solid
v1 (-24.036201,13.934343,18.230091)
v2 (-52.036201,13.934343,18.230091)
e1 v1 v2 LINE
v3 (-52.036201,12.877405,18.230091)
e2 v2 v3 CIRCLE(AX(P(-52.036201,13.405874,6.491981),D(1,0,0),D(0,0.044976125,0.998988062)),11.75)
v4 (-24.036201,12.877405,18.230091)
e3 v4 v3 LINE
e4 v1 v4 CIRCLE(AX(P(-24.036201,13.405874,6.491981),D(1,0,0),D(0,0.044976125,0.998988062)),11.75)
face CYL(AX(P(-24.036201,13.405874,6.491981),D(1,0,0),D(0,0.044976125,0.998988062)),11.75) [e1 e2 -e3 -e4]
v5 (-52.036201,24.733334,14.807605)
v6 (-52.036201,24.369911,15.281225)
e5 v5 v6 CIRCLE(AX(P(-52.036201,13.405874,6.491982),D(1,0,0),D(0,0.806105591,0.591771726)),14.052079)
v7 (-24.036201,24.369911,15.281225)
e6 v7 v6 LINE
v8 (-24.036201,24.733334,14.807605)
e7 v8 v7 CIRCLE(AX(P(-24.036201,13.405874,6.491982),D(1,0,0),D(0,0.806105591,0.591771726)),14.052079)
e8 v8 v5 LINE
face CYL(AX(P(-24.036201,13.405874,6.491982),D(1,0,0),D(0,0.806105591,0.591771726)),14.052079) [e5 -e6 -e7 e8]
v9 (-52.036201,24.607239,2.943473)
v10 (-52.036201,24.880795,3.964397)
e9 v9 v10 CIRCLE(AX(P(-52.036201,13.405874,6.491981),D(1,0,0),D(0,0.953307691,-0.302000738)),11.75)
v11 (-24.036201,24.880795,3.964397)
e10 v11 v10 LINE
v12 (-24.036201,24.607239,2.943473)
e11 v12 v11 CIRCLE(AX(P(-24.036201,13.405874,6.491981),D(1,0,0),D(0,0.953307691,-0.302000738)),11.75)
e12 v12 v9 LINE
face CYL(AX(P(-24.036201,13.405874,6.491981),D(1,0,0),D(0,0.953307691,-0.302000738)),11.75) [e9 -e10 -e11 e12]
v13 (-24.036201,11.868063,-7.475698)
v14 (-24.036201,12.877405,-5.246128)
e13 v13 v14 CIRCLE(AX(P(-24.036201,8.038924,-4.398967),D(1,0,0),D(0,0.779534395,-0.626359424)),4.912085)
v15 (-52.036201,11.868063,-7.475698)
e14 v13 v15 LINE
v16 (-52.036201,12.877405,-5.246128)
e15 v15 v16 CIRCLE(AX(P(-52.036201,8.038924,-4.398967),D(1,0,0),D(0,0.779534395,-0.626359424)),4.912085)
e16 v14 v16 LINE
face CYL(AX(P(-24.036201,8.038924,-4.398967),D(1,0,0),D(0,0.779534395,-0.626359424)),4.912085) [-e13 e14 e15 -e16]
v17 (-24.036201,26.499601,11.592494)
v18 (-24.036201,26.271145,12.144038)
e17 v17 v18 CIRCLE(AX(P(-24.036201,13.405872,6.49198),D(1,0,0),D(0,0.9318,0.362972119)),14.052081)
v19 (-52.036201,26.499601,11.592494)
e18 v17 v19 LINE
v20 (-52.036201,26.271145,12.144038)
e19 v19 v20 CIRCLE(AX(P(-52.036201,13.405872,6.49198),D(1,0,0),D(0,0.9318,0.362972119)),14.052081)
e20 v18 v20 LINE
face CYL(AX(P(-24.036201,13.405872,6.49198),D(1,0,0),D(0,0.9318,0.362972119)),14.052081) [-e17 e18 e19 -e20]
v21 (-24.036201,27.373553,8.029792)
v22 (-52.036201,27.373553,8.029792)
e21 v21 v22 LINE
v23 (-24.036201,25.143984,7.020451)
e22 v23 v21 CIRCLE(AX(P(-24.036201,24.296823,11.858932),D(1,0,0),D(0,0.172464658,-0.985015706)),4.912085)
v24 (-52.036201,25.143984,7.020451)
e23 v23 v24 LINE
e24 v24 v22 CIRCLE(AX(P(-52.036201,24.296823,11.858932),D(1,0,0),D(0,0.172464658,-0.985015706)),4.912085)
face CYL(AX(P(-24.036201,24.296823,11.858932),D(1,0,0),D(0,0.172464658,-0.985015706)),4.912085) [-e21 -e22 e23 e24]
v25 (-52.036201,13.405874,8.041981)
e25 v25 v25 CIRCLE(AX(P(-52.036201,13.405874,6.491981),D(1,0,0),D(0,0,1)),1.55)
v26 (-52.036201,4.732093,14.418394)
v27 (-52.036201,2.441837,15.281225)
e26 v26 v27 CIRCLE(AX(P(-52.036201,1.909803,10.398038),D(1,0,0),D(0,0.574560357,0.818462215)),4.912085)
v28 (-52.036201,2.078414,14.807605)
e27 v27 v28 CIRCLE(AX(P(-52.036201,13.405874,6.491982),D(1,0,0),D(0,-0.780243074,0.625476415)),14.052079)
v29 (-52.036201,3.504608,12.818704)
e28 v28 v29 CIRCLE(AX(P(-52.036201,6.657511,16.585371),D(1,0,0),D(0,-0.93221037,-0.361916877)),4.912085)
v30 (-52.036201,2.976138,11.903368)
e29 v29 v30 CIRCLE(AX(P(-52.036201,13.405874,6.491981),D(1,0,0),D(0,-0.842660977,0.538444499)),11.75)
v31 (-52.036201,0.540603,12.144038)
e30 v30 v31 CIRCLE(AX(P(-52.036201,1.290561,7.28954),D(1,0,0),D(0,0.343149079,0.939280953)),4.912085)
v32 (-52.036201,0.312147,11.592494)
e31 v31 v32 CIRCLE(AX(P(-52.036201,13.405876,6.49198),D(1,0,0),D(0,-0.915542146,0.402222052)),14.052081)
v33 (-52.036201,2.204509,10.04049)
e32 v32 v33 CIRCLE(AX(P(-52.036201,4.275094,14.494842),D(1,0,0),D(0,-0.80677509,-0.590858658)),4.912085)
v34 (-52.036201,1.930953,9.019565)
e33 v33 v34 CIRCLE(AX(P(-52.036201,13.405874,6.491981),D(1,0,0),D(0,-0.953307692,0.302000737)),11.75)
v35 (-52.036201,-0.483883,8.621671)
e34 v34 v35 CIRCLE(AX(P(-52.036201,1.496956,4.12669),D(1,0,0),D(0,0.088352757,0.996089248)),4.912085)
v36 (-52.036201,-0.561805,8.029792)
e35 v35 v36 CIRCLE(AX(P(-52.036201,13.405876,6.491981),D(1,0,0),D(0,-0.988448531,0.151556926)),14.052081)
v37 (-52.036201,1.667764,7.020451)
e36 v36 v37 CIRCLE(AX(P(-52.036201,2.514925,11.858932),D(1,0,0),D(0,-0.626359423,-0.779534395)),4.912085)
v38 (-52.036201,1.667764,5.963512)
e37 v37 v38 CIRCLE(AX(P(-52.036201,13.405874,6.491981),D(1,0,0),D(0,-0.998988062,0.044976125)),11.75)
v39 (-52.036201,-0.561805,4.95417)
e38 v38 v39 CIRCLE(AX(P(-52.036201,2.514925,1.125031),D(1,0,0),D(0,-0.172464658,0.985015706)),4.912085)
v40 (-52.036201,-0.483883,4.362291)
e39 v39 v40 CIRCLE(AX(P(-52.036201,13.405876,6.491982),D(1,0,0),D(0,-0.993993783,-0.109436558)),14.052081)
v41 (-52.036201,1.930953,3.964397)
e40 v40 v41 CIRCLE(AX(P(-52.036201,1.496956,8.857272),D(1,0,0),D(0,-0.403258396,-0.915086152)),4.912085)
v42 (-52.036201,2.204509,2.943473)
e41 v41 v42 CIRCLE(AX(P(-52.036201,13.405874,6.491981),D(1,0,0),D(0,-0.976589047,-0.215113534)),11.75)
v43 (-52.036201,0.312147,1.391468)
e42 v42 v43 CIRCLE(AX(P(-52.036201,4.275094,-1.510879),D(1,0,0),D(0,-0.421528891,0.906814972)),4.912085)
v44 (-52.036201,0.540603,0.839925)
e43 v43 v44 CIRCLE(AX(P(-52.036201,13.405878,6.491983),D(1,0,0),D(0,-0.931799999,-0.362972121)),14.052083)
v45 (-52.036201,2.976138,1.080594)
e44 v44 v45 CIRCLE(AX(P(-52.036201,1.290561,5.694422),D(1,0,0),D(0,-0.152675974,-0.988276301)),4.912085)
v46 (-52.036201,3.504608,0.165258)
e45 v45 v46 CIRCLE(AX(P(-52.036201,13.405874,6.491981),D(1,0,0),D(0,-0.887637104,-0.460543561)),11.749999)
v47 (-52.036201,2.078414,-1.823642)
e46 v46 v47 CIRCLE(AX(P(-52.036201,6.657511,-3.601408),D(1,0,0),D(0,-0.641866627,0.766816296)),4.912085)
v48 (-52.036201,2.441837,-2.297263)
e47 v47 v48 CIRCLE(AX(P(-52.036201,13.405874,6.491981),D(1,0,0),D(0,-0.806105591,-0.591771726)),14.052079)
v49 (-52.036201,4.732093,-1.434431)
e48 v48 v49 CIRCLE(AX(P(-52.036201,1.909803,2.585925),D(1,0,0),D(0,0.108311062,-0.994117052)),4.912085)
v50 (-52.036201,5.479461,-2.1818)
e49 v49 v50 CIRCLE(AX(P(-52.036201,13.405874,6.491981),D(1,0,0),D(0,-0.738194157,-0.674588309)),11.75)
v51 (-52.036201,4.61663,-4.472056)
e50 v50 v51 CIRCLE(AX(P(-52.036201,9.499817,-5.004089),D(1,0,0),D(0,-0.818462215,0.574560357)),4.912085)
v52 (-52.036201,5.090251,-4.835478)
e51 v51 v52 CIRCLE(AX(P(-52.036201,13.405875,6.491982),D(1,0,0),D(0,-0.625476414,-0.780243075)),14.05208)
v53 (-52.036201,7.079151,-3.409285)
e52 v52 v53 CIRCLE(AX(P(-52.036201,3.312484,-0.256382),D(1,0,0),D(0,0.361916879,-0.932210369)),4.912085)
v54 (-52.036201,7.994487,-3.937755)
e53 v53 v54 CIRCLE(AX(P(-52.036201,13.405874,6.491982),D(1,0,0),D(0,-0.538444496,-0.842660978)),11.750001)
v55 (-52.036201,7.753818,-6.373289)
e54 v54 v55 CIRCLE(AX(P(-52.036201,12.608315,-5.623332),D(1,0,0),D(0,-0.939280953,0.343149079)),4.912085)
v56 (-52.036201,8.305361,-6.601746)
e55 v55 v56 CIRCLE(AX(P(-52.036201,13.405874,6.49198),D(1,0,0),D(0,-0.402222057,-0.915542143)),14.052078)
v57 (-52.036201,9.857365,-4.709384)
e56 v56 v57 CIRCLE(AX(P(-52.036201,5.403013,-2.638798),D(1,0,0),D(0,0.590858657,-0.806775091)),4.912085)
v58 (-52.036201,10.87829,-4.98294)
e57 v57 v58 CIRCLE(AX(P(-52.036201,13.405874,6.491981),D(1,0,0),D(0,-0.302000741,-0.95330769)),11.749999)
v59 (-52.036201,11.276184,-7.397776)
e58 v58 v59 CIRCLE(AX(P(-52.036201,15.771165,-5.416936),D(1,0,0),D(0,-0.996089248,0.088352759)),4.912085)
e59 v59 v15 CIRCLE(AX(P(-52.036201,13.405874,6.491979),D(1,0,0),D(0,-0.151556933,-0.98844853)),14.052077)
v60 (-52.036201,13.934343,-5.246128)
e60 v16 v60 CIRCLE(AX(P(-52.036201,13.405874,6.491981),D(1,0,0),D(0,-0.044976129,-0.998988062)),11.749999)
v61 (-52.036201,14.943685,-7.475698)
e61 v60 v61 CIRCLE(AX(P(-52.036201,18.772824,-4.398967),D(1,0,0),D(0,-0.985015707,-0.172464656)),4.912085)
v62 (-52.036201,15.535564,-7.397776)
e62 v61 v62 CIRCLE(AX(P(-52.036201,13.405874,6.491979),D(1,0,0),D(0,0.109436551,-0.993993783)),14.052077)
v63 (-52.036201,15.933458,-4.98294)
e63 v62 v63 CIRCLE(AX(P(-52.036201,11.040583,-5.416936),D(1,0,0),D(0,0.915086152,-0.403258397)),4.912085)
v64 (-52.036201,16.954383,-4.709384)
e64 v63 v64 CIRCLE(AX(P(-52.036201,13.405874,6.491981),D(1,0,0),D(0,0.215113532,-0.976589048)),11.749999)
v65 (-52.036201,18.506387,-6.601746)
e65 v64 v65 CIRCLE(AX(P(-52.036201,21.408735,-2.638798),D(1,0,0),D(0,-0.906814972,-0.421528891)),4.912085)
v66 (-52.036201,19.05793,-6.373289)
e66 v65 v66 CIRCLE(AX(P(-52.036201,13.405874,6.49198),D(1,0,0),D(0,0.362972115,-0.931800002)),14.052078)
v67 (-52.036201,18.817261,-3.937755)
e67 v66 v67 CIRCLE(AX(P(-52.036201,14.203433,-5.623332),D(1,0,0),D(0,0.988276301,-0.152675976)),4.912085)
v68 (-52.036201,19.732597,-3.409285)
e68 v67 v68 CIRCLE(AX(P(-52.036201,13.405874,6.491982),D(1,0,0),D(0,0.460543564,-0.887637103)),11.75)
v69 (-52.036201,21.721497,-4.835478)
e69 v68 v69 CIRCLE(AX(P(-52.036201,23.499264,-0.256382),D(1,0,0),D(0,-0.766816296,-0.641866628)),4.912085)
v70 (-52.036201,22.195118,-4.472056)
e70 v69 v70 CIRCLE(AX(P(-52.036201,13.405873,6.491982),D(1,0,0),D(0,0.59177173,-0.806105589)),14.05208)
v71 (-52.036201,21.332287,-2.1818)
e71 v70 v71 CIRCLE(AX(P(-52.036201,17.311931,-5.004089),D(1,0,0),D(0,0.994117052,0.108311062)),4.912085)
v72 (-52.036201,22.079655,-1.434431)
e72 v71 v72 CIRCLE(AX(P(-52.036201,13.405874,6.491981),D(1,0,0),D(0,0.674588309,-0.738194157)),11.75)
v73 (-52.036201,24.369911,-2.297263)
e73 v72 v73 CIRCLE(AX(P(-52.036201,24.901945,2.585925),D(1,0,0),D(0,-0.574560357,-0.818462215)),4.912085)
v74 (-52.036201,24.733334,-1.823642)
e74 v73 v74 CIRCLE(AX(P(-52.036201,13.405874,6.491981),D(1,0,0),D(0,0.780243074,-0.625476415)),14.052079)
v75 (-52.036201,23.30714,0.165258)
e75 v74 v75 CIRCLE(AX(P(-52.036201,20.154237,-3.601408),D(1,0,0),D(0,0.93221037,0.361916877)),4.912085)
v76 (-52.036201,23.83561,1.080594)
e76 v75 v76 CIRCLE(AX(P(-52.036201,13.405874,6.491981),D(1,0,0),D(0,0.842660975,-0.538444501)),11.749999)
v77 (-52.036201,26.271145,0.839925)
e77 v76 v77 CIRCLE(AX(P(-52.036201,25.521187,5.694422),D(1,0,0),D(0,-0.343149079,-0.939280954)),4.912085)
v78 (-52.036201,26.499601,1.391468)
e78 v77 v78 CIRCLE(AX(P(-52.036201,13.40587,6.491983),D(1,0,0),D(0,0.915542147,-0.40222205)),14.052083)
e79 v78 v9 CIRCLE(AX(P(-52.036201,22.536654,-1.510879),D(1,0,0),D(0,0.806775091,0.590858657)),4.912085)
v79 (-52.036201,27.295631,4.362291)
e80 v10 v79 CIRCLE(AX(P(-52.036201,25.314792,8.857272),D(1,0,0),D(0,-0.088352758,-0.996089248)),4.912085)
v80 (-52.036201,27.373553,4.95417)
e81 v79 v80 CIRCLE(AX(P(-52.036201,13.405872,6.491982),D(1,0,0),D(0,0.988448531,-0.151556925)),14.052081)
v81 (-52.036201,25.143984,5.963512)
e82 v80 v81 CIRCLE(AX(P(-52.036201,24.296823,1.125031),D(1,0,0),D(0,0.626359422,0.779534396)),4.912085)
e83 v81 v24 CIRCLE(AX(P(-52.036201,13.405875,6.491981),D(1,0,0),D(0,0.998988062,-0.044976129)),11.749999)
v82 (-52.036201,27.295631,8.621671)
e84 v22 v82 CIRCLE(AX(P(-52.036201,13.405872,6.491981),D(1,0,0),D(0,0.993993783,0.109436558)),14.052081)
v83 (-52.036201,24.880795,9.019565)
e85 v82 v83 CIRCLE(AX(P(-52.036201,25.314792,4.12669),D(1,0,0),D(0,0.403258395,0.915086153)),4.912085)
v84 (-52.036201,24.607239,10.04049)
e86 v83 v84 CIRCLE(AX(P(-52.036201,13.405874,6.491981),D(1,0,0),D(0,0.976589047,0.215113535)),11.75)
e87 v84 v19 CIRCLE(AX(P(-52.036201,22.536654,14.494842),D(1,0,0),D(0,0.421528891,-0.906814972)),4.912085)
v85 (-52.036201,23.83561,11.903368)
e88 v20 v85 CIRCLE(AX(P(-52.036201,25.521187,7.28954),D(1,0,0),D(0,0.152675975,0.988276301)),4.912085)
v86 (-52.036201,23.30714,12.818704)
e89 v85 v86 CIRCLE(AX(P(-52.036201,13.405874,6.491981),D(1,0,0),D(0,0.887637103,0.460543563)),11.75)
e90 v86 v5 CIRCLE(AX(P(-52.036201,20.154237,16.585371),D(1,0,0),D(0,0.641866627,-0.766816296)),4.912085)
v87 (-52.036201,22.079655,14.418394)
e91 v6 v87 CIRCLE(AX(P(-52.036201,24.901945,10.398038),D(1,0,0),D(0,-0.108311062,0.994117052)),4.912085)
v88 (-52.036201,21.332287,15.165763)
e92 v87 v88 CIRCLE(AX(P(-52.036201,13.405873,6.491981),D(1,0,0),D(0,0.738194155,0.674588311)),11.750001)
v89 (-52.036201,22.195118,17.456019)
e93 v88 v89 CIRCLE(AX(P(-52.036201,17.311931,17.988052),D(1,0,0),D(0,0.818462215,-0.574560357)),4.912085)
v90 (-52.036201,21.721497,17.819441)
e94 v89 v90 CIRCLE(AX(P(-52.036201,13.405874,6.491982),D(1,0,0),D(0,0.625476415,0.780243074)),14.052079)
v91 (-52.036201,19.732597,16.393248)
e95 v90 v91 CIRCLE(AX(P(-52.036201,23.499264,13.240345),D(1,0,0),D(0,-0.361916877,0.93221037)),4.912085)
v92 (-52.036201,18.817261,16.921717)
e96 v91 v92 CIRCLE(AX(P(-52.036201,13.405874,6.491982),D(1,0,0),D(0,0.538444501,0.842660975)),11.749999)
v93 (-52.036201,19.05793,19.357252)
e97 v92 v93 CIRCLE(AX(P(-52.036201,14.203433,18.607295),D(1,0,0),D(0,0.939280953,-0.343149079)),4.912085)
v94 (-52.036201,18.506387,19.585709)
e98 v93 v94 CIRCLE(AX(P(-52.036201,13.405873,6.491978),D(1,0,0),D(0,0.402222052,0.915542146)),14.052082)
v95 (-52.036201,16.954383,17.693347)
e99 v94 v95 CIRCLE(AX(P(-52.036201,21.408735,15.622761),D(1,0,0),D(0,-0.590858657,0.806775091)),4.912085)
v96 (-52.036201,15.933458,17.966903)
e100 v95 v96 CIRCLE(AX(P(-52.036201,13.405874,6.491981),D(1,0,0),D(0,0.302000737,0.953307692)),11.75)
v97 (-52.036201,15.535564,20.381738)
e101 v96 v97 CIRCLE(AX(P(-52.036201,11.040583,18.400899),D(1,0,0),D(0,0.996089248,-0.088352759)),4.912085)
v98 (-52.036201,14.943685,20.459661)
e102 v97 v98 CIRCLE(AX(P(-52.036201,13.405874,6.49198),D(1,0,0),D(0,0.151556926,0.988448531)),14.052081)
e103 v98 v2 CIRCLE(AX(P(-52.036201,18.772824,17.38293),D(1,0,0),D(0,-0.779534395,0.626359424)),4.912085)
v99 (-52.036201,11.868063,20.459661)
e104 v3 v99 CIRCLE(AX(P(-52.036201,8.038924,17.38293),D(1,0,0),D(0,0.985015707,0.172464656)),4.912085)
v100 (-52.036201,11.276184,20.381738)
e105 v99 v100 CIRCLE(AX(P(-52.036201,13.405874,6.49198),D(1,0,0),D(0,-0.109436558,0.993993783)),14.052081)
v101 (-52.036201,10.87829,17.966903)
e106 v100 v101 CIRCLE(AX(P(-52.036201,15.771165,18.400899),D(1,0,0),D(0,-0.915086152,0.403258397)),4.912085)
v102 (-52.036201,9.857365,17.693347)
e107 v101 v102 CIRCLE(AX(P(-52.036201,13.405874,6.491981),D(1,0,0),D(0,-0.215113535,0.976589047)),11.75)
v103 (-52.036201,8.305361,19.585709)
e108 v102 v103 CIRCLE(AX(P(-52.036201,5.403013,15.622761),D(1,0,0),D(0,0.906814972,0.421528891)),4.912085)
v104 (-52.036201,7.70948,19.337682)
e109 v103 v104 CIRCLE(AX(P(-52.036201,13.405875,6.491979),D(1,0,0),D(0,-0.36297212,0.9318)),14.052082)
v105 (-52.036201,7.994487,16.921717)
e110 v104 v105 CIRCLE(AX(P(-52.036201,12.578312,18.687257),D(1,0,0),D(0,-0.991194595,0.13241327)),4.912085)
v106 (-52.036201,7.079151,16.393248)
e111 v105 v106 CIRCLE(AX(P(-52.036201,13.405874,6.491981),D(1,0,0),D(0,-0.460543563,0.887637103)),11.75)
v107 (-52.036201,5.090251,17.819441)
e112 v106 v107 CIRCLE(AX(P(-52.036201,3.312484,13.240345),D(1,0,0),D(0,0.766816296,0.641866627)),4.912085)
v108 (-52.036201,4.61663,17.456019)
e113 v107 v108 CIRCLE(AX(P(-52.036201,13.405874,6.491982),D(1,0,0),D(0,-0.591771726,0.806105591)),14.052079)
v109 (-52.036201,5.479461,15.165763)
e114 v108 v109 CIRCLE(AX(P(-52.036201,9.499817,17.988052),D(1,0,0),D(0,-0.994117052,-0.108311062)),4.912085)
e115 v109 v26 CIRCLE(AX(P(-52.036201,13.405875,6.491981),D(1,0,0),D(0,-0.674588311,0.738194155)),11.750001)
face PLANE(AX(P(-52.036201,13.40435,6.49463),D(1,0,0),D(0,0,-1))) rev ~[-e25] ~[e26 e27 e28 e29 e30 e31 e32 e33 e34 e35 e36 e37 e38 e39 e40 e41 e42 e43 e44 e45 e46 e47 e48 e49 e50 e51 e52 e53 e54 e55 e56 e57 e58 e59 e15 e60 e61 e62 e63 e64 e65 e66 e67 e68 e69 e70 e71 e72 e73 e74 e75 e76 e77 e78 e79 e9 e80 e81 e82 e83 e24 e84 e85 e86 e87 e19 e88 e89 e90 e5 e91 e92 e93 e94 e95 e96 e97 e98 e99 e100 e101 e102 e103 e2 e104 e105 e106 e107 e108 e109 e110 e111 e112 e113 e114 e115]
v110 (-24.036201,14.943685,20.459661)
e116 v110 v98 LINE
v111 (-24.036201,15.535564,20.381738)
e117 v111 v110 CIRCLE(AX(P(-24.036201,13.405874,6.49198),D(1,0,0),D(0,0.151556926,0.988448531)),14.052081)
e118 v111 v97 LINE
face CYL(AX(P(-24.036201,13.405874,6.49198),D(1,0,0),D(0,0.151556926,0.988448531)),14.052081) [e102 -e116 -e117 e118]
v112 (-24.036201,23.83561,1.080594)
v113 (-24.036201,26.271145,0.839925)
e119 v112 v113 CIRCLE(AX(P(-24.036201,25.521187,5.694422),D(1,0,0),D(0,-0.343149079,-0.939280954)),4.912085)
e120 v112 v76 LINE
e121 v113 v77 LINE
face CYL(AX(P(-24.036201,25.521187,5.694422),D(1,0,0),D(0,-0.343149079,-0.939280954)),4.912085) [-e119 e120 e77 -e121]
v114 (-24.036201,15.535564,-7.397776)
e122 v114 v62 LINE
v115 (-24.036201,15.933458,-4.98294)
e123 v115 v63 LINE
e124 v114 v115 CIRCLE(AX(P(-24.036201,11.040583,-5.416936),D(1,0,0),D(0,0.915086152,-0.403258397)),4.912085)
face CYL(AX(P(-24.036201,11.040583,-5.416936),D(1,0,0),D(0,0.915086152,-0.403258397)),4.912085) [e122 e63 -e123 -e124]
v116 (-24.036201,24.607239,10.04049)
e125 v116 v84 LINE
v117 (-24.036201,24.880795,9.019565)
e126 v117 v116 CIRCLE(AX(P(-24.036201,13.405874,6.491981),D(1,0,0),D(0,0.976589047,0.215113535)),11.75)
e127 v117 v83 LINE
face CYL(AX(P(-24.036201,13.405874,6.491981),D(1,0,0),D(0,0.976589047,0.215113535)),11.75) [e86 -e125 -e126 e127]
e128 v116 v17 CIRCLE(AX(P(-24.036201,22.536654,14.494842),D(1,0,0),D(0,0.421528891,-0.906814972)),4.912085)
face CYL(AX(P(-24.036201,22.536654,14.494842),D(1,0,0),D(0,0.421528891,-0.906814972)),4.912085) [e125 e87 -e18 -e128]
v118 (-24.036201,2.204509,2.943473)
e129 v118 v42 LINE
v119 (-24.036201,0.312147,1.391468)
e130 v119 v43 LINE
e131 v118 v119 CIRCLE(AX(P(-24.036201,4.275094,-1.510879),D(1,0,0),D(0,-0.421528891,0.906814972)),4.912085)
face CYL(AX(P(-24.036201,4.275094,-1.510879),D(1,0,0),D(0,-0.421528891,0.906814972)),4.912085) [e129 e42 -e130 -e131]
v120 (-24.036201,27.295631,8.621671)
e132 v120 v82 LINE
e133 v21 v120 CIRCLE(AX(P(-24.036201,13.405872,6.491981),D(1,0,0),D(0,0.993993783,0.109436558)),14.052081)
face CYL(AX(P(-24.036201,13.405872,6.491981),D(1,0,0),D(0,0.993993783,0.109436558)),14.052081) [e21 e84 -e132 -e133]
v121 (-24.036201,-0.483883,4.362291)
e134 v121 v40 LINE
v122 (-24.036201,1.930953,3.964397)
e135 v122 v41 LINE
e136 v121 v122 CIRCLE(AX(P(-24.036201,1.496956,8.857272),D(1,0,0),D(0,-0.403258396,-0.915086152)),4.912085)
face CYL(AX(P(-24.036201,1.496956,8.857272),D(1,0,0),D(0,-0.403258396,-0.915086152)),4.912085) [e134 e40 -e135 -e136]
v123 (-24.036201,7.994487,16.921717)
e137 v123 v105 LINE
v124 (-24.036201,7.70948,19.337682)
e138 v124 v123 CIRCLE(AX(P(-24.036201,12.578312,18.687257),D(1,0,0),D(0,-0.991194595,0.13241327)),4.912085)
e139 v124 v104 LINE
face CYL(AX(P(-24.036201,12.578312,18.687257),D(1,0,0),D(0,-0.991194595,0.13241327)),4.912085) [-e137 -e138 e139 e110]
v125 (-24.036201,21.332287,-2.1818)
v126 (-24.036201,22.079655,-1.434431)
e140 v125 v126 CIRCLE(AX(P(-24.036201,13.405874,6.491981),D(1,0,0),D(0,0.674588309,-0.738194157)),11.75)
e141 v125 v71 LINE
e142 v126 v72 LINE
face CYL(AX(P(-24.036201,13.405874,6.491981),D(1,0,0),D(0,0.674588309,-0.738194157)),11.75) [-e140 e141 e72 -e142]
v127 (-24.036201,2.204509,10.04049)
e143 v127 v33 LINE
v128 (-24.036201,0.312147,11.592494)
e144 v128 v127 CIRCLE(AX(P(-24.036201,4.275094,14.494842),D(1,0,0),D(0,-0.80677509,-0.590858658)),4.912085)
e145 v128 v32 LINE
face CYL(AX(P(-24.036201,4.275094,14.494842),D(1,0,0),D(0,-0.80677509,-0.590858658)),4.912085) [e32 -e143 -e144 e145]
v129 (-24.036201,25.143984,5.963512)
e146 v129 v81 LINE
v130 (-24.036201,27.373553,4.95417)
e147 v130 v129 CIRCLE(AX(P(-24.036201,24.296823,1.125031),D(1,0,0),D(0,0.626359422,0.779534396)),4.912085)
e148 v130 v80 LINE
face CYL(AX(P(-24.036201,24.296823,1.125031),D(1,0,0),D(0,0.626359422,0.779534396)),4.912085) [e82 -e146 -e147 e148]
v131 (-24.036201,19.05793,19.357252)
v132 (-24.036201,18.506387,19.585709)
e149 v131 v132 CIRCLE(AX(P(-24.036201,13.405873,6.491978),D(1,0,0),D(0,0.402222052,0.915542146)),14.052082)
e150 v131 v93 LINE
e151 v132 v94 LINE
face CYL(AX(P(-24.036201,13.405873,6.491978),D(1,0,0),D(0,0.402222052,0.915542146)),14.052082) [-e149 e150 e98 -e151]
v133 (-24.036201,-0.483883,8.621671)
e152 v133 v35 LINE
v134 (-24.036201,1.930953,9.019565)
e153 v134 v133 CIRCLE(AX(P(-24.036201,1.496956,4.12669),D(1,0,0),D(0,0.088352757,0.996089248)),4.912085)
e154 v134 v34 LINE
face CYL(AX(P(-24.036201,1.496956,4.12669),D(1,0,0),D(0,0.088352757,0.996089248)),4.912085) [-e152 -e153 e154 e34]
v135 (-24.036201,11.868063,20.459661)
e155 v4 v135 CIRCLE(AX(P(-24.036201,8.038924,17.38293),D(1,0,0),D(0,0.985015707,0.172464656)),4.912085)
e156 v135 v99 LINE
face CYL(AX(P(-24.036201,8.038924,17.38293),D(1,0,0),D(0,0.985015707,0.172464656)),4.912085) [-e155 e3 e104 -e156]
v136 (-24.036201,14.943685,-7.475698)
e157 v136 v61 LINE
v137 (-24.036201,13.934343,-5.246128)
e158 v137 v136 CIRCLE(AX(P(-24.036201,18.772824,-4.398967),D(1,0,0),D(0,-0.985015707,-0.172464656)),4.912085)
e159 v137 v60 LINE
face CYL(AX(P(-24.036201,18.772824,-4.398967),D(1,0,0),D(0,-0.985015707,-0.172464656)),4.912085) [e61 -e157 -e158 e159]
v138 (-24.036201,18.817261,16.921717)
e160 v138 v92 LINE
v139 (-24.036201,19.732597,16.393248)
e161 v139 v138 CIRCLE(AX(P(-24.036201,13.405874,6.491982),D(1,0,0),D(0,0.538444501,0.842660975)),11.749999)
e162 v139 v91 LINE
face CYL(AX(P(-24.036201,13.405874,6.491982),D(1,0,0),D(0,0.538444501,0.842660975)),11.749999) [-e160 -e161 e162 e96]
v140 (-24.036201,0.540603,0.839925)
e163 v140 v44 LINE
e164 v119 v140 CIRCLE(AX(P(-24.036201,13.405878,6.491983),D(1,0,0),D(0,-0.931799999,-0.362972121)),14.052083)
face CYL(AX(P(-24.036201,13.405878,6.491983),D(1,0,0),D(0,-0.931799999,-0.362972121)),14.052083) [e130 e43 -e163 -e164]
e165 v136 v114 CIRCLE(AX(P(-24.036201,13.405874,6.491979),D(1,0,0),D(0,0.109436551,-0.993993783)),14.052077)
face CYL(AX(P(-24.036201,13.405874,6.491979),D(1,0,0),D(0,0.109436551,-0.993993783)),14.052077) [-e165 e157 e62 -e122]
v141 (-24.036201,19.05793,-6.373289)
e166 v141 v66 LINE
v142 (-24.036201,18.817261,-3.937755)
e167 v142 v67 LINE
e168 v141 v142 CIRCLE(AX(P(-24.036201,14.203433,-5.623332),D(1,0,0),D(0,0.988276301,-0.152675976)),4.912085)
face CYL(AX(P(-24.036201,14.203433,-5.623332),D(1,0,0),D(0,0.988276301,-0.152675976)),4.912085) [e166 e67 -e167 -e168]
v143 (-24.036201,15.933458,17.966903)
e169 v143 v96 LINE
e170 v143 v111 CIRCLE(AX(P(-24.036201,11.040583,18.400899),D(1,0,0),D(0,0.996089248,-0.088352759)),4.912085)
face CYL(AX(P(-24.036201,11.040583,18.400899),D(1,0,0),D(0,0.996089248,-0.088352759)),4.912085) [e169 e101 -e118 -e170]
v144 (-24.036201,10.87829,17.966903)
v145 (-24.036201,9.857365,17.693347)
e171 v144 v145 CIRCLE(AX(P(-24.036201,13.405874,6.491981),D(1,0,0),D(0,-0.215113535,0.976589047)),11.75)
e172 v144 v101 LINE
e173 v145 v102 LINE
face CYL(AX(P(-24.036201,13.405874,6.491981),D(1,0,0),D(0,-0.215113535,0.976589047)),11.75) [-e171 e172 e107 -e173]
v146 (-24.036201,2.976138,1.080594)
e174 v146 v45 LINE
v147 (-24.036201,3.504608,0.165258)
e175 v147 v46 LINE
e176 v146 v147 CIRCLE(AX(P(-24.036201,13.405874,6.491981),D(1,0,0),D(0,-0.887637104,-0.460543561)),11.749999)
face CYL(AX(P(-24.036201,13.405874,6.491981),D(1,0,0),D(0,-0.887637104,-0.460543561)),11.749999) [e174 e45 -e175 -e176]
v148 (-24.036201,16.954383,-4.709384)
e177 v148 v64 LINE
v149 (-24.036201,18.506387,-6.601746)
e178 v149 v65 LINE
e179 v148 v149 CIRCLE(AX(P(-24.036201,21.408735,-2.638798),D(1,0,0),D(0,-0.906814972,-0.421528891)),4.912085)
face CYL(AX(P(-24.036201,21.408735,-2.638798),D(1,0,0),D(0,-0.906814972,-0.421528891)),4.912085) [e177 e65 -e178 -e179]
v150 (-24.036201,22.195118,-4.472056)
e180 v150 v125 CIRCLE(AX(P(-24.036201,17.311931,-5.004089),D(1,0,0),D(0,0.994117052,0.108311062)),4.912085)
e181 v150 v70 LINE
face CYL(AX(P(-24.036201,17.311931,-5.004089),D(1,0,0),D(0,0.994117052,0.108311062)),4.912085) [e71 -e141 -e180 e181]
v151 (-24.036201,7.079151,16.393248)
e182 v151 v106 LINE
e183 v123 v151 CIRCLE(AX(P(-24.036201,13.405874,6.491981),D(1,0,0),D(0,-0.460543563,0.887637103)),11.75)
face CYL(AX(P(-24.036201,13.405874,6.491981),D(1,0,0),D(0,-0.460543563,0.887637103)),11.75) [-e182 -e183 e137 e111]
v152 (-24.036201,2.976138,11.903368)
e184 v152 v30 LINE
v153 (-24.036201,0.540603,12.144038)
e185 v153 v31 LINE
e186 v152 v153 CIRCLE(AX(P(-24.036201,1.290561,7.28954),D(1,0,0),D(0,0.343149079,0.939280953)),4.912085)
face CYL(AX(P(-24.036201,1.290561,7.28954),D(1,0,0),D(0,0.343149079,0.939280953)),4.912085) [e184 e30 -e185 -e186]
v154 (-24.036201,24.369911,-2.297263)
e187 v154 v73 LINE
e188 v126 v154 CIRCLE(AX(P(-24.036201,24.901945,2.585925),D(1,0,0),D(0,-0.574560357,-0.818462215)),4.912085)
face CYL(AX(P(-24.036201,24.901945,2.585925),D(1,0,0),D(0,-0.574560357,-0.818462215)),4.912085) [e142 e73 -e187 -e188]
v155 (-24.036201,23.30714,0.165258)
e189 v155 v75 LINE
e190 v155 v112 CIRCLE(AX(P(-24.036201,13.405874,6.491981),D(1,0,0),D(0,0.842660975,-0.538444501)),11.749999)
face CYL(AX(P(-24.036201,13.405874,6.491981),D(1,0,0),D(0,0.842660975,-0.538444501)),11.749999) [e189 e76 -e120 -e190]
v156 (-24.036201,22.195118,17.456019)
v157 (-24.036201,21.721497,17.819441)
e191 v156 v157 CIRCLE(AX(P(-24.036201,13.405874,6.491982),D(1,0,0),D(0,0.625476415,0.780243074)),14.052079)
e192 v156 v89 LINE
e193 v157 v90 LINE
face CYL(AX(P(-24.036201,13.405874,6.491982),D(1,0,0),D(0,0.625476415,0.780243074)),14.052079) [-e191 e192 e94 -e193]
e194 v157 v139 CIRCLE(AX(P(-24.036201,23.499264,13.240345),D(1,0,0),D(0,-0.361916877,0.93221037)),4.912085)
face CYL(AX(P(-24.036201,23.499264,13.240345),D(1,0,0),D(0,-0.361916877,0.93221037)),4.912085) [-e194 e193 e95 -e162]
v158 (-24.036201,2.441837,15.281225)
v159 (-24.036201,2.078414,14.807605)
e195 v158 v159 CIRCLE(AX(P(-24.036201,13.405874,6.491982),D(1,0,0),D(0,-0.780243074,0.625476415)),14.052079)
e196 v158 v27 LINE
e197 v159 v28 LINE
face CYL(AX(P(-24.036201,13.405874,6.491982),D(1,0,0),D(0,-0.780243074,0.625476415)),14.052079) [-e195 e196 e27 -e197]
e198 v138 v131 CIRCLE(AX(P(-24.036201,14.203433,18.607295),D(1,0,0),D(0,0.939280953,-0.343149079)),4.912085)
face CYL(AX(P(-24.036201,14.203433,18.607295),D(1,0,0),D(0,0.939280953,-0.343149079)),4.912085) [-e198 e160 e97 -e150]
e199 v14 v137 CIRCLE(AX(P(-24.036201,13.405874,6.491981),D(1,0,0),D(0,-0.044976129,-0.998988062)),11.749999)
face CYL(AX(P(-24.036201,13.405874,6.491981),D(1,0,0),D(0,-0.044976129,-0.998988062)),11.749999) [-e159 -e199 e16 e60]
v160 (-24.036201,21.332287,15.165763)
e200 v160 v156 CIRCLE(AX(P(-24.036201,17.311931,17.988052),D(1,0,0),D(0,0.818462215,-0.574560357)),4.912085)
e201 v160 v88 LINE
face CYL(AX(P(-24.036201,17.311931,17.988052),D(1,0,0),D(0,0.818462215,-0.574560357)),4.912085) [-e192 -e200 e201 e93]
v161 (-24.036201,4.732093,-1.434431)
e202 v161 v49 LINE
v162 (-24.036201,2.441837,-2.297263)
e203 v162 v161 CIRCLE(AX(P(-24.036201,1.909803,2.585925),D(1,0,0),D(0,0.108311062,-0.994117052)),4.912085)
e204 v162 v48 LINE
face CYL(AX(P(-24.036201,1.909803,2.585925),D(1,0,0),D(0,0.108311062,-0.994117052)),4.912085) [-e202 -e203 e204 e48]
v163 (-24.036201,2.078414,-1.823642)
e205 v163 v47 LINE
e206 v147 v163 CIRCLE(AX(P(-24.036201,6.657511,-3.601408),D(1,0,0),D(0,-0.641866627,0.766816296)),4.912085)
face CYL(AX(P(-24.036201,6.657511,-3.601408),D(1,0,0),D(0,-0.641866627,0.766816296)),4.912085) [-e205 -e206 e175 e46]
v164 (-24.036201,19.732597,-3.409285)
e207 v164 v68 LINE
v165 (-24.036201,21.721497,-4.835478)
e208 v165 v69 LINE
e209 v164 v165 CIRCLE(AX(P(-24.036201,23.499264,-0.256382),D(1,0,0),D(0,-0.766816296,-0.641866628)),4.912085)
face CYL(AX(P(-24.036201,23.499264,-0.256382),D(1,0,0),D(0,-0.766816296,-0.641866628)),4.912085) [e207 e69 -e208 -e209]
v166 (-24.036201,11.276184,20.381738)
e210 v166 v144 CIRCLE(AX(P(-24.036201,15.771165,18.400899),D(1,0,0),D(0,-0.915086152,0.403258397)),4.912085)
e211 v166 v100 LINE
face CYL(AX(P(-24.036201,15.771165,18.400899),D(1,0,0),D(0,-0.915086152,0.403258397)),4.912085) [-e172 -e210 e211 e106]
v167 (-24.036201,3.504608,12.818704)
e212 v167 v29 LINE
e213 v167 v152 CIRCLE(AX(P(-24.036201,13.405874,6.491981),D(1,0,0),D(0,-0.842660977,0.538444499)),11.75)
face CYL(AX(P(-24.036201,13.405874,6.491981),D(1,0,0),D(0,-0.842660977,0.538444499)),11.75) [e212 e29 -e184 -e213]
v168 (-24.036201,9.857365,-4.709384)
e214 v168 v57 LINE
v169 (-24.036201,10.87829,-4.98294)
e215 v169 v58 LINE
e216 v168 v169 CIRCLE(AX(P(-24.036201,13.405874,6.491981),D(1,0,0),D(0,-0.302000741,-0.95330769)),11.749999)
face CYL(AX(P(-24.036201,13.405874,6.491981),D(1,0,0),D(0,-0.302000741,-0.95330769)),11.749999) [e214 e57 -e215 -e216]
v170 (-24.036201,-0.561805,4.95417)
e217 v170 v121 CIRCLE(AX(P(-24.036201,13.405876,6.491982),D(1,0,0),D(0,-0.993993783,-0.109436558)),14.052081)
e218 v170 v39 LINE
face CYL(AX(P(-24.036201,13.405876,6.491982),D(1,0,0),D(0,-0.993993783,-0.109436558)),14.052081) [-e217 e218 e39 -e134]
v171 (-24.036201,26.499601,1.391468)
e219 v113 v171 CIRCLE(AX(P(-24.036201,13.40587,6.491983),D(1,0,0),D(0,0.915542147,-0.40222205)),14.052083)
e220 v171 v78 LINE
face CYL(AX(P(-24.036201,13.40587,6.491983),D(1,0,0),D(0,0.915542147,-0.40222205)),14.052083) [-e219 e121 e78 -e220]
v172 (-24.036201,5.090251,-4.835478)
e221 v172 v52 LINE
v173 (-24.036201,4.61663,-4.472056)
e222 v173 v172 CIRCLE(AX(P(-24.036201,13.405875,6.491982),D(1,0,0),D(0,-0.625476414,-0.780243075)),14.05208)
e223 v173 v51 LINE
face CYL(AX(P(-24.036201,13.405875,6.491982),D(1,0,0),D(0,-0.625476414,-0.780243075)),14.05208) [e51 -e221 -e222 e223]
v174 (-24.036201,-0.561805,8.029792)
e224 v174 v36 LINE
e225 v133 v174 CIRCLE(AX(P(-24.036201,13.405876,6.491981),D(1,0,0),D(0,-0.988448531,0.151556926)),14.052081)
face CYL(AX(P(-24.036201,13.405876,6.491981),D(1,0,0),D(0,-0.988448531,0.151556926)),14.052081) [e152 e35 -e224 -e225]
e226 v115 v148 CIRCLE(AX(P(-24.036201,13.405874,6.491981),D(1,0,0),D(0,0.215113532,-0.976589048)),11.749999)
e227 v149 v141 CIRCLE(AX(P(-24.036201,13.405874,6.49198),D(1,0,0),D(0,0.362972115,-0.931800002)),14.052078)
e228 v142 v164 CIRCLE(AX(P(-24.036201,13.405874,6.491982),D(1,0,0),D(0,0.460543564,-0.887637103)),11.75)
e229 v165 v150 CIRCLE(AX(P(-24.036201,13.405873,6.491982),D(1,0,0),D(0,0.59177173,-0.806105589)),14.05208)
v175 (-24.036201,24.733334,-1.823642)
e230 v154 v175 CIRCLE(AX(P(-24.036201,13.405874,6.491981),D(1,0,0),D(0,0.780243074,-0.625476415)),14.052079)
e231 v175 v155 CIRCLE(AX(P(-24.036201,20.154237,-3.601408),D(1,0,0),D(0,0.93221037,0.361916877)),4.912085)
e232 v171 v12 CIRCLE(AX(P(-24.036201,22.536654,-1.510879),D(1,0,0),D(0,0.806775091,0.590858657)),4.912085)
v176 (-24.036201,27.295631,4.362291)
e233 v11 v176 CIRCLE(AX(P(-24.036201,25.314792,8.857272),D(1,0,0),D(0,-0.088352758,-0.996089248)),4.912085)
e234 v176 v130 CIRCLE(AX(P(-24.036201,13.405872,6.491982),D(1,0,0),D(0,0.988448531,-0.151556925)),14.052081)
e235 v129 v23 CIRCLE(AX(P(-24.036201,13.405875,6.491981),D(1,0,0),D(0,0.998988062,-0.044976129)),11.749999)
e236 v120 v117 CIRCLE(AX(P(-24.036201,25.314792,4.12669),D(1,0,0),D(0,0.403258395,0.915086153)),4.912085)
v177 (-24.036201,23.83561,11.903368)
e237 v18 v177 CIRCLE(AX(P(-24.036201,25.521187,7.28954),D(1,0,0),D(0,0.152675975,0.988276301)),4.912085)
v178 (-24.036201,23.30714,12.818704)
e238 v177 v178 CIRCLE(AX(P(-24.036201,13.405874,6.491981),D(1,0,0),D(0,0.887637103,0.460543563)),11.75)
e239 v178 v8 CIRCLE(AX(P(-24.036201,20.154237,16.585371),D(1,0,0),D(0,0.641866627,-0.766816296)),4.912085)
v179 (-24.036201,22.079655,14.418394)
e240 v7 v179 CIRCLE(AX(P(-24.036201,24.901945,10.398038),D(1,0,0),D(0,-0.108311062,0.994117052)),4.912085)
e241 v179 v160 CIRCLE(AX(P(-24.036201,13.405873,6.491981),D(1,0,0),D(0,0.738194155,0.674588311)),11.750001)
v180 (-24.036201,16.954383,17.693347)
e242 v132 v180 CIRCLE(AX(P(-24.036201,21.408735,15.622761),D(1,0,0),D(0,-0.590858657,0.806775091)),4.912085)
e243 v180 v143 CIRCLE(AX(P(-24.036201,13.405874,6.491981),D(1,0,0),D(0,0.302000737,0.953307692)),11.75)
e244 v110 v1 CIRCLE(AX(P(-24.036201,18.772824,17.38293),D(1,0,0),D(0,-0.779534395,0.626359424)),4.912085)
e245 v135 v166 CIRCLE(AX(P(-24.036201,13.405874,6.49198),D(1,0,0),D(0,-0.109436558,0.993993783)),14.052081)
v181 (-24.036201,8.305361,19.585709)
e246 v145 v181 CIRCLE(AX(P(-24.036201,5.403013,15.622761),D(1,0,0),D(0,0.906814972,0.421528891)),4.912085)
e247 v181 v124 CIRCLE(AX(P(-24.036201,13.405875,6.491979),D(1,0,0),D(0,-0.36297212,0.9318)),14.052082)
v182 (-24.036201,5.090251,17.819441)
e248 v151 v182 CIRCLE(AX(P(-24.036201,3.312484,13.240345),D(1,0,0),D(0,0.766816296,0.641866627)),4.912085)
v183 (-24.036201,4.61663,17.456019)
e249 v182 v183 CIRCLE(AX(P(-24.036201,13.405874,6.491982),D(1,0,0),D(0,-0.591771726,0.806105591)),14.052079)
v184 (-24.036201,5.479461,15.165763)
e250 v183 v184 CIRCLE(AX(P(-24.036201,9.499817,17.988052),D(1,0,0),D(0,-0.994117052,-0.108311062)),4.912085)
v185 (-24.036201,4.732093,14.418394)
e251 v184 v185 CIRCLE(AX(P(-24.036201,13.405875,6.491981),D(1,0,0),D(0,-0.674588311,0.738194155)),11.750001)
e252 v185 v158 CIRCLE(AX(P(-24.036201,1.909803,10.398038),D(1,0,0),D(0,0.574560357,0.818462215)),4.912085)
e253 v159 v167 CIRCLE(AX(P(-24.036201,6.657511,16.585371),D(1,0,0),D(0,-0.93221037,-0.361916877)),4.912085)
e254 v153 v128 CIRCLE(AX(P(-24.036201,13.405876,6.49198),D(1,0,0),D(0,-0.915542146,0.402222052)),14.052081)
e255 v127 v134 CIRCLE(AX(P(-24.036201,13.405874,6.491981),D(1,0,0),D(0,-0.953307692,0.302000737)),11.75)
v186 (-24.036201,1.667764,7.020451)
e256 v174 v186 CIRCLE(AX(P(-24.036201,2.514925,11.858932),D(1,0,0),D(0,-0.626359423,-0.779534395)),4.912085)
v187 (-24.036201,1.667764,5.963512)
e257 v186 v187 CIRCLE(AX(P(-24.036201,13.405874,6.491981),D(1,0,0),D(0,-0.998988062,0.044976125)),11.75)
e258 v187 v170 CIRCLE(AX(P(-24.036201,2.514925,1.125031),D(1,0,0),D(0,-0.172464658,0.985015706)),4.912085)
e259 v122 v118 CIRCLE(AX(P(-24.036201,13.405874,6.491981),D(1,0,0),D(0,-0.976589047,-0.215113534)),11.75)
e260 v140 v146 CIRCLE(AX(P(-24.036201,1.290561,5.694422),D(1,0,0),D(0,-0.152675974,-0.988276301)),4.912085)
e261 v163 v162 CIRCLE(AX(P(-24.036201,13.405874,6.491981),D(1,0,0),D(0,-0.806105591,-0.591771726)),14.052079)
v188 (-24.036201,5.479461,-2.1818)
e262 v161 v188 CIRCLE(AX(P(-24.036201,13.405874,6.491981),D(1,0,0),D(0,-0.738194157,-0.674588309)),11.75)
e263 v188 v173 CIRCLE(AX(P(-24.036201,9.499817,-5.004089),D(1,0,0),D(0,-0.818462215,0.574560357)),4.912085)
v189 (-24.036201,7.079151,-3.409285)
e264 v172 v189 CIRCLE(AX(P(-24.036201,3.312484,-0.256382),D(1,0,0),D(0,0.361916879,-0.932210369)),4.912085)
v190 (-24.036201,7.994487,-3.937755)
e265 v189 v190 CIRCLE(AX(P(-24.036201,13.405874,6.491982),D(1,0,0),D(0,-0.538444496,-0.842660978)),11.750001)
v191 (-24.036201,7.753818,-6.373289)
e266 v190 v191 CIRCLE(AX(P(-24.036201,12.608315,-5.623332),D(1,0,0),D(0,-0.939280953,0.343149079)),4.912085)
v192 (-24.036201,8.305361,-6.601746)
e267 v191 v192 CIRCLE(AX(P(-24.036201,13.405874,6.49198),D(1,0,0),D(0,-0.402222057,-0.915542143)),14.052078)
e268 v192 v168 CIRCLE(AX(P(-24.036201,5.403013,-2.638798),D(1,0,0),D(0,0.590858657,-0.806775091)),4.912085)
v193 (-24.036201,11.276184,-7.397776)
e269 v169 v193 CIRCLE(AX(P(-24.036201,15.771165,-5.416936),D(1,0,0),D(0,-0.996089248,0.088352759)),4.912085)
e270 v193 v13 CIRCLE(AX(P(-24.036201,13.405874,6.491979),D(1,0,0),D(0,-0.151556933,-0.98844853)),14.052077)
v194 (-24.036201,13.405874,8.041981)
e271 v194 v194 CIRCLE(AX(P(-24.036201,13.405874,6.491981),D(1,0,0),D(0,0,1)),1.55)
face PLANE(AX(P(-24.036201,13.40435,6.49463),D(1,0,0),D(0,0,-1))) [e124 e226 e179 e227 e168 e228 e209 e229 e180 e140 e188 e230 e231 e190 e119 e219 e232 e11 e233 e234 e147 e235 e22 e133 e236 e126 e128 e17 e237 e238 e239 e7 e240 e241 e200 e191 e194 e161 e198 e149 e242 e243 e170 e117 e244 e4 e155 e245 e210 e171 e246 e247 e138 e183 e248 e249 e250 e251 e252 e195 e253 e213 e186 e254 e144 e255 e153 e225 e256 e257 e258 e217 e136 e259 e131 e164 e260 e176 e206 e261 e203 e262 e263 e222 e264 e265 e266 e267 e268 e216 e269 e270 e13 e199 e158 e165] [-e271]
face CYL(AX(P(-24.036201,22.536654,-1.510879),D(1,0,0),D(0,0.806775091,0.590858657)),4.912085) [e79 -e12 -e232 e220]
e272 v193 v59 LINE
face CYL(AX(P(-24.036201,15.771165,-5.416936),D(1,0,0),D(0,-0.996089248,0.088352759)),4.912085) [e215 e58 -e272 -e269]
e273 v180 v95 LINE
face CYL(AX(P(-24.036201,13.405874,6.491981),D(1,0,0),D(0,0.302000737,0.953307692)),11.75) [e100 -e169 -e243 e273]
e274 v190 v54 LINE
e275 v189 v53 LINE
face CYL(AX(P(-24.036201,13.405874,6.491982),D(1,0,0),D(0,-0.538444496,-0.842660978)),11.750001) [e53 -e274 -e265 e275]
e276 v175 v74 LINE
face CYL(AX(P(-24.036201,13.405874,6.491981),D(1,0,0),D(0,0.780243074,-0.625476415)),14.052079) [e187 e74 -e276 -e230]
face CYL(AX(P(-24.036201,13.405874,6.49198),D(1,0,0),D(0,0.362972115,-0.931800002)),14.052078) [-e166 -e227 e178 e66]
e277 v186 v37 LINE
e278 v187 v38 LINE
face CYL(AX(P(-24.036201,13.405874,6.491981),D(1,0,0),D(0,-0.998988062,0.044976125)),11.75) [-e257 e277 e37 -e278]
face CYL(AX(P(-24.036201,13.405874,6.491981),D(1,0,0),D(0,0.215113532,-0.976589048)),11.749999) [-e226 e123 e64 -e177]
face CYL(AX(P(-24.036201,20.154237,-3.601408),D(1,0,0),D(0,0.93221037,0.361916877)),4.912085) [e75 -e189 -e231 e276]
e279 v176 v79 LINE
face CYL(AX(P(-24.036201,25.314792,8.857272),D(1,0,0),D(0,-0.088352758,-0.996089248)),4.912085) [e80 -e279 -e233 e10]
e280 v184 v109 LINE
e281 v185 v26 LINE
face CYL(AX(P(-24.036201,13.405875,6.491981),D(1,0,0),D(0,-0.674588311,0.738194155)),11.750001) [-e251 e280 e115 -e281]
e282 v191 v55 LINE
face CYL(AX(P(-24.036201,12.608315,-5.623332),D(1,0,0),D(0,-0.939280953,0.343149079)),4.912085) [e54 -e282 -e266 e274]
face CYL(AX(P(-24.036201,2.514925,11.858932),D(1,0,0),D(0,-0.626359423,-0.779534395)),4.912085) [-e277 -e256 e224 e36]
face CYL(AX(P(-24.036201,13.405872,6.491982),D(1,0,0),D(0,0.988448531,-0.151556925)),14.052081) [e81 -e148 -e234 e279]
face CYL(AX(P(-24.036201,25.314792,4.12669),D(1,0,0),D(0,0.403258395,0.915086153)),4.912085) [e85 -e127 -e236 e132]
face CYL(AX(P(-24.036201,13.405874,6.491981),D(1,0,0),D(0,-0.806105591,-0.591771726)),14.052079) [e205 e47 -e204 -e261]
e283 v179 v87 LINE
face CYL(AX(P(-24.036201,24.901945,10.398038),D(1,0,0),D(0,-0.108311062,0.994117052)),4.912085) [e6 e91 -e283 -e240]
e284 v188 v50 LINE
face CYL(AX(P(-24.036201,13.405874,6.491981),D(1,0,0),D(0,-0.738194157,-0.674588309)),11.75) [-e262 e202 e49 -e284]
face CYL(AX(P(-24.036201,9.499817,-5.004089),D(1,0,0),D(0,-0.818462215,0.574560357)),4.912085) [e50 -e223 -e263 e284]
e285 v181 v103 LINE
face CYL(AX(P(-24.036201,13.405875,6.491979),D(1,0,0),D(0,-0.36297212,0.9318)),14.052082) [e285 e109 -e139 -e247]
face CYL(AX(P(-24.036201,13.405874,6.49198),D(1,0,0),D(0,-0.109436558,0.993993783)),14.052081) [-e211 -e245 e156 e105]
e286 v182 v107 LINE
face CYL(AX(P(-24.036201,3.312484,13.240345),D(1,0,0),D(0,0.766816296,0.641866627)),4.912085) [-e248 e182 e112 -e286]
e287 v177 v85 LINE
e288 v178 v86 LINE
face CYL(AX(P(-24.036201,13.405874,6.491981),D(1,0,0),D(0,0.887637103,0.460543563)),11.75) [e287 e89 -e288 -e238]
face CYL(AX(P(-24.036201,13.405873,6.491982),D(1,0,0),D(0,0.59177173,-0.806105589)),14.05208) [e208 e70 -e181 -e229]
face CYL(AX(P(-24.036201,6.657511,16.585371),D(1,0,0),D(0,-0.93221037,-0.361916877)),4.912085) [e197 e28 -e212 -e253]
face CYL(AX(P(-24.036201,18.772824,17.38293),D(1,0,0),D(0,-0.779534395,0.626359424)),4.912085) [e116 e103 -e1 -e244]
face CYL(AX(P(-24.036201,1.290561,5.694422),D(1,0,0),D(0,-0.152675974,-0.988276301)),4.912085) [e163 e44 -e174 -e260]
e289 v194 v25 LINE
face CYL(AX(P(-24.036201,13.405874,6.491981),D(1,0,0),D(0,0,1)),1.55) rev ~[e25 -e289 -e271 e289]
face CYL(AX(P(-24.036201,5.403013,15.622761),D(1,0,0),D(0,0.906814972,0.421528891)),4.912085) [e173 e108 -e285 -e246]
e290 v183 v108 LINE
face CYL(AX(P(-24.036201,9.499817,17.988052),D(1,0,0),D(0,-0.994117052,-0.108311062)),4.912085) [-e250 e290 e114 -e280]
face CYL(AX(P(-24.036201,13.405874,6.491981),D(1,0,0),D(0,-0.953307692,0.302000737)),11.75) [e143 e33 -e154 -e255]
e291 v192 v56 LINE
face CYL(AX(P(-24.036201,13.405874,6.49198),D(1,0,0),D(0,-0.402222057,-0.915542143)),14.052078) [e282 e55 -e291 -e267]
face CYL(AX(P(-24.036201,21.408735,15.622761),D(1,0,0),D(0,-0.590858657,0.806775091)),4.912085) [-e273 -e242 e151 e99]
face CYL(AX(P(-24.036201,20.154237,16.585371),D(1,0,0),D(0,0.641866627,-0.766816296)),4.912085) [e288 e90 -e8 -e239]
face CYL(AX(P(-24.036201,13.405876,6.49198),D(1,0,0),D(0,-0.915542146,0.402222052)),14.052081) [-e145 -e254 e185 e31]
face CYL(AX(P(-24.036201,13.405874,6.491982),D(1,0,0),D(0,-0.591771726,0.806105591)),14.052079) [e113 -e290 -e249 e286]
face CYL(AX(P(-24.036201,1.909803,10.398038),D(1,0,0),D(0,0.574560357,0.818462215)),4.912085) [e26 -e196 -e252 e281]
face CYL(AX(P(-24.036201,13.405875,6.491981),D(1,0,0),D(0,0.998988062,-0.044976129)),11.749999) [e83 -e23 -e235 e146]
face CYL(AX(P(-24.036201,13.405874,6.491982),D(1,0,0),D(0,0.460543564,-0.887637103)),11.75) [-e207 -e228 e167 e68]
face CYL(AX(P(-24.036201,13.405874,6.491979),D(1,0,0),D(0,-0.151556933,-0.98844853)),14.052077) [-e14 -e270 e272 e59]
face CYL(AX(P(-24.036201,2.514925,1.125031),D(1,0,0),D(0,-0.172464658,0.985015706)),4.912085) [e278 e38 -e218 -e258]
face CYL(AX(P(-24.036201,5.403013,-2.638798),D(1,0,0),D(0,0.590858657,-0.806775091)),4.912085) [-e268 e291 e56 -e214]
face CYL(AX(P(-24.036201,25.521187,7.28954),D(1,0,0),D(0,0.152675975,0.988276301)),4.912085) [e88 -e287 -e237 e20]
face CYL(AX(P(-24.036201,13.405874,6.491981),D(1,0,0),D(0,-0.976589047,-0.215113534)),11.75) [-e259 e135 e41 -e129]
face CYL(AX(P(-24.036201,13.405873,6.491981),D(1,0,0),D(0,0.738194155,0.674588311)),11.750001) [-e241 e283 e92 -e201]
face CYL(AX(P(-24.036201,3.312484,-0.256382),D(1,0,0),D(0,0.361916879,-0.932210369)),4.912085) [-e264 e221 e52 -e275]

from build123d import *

# Parameters (mm, degrees)
SKETCH1_R           = 1.55
BOSS_EXTRUDE1_DEPTH = 28


with BuildPart() as part:
    # Sketch1 → Boss-Extrude1 (new body)
    with BuildSketch(Plane(origin=(-24.036200878, 0, 0), x_dir=(0, 0, -1), z_dir=(1, 0, 0))):
        with BuildLine():
            ThreePointArc((-20.45966069, 14.943685115), (-19.408744482, 14.297932757), (-18.23009109, 13.93434348))
            ThreePointArc((-18.23009109, 13.93434348), (-18.241981361, 13.405873993), (-18.23009109, 12.877404505))
            ThreePointArc((-18.23009109, 12.877404505), (-19.408744482, 12.513815228), (-20.45966069, 11.86806287))
            ThreePointArc((-20.45966069, 11.86806287), (-20.423843041, 11.571709606), (-20.381738364, 11.276184046))
            ThreePointArc((-20.381738364, 11.276184046), (-19.19949825, 10.924432295), (-17.966902668, 10.878289967))
            ThreePointArc((-17.966902668, 10.878289967), (-17.84160982, 10.364750213), (-17.693346732, 9.857365315))
            ThreePointArc((-17.693346732, 9.857365315), (-18.737734654, 9.201107096), (-19.585708752, 8.305361087))
            ThreePointArc((-19.585708752, 8.305361087), (-19.465117023, 8.00599622), (-19.337681897, 7.709479816))
            ThreePointArc((-19.337681897, 7.709479816), (-18.111776725, 7.700053845), (-16.921717322, 7.994487129))
            ThreePointArc((-16.921717322, 7.994487129), (-16.667779856, 7.530873993), (-16.393247835, 7.079151127))
            ThreePointArc((-16.393247835, 7.079151127), (-17.232196976, 6.17494688), (-17.81944093, 5.09025083))
            ThreePointArc((-17.81944093, 5.09025083), (-17.640245305, 4.851510199), (-17.456018805, 4.616629895))
            ThreePointArc((-17.456018805, 4.616629895), (-16.256292957, 4.903124001), (-15.165762707, 5.479461363))
            ThreePointArc((-15.165762707, 5.479461363), (-14.80048604, 5.097369314), (-14.418393991, 4.732092647))
            ThreePointArc((-14.418393991, 4.732092647), (-14.994731353, 3.641562397), (-15.281225459, 2.441836549))
            ThreePointArc((-15.281225459, 2.441836549), (-15.046345155, 2.257610049), (-14.807604524, 2.078414424))
            ThreePointArc((-14.807604524, 2.078414424), (-13.722908474, 2.665658378), (-12.818704227, 3.504607519))
            ThreePointArc((-12.818704227, 3.504607519), (-12.366981361, 3.230075498), (-11.903368225, 2.976138032))
            ThreePointArc((-11.903368225, 2.976138032), (-12.17781737, 1.773599613), (-12.144037527, 0.540603301))
            ThreePointArc((-12.144037527, 0.540603301), (-11.869479248, 0.423445663), (-11.592494266, 0.312146602))
            ThreePointArc((-11.592494266, 0.312146602), (-10.696748258, 1.1601207), (-10.040490039, 2.204508622))
            ThreePointArc((-10.040490039, 2.204508622), (-9.533105141, 2.056245534), (-9.019565387, 1.930952686))
            ThreePointArc((-9.019565387, 1.930952686), (-8.973423058, 0.698357104), (-8.621671308, -0.48388301))
            ThreePointArc((-8.621671308, -0.48388301), (-8.326145748, -0.525987687), (-8.029792484, -0.561805336))
            ThreePointArc((-8.029792484, -0.561805336), (-7.384040126, 0.489110872), (-7.020450848, 1.667764264))
            ThreePointArc((-7.020450848, 1.667764264), (-6.491981361, 1.655873993), (-5.963511874, 1.667764264))
            ThreePointArc((-5.963511874, 1.667764264), (-5.599922596, 0.489110872), (-4.954170239, -0.561805336))
            ThreePointArc((-4.954170239, -0.561805336), (-4.657816975, -0.525987687), (-4.362291414, -0.48388301))
            ThreePointArc((-4.362291414, -0.48388301), (-4.010539664, 0.698357104), (-3.964397336, 1.930952686))
            ThreePointArc((-3.964397336, 1.930952686), (-3.450857581, 2.056245534), (-2.943472684, 2.204508622))
            ThreePointArc((-2.943472684, 2.204508622), (-2.287214465, 1.1601207), (-1.391468456, 0.312146602))
            ThreePointArc((-1.391468456, 0.312146602), (-1.114483475, 0.423445663), (-0.839925195, 0.540603301))
            ThreePointArc((-0.839925195, 0.540603301), (-0.806145353, 1.773599613), (-1.080594498, 2.976138032))
            ThreePointArc((-1.080594498, 2.976138032), (-0.616981361, 3.230075498), (-0.165258496, 3.504607519))
            ThreePointArc((-0.165258496, 3.504607519), (0.738945751, 2.665658378), (1.823641801, 2.078414424))
            ThreePointArc((1.823641801, 2.078414424), (2.062382432, 2.257610049), (2.297262736, 2.441836549))
            ThreePointArc((2.297262736, 2.441836549), (2.01076863, 3.641562397), (1.434431268, 4.732092647))
            ThreePointArc((1.434431268, 4.732092647), (1.816523318, 5.097369314), (2.181799984, 5.479461363))
            ThreePointArc((2.181799984, 5.479461363), (3.272330234, 4.903124001), (4.472056082, 4.616629895))
            ThreePointArc((4.472056082, 4.616629895), (4.656282582, 4.851510199), (4.835478208, 5.09025083))
            ThreePointArc((4.835478208, 5.09025083), (4.248234253, 6.17494688), (3.409285113, 7.079151127))
            ThreePointArc((3.409285113, 7.079151127), (3.683817133, 7.530873993), (3.9377546, 7.994487129))
            ThreePointArc((3.9377546, 7.994487129), (5.140293018, 7.720037984), (6.37328933, 7.753817827))
            ThreePointArc((6.37328933, 7.753817827), (6.490446969, 8.028376106), (6.601746029, 8.305361087))
            ThreePointArc((6.601746029, 8.305361087), (5.753771931, 9.201107096), (4.709384009, 9.857365315))
            ThreePointArc((4.709384009, 9.857365315), (4.857647098, 10.364750213), (4.982939945, 10.878289967))
            ThreePointArc((4.982939945, 10.878289967), (6.215535527, 10.924432295), (7.397775641, 11.276184046))
            ThreePointArc((7.397775641, 11.276184046), (7.439880319, 11.571709606), (7.475697967, 11.86806287))
            ThreePointArc((7.475697967, 11.86806287), (6.424781759, 12.513815228), (5.246128367, 12.877404505))
            ThreePointArc((5.246128367, 12.877404505), (5.258018639, 13.405873993), (5.246128367, 13.93434348))
            ThreePointArc((5.246128367, 13.93434348), (6.424781759, 14.297932757), (7.475697967, 14.943685115))
            ThreePointArc((7.475697967, 14.943685115), (7.439880319, 15.240038379), (7.397775641, 15.535563939))
            ThreePointArc((7.397775641, 15.535563939), (6.215535527, 15.88731569), (4.982939945, 15.933458018))
            ThreePointArc((4.982939945, 15.933458018), (4.857647098, 16.446997772), (4.709384009, 16.95438267))
            ThreePointArc((4.709384009, 16.95438267), (5.753771931, 17.610640889), (6.601746029, 18.506386898))
            ThreePointArc((6.601746029, 18.506386898), (6.490446969, 18.783371879), (6.37328933, 19.057930158))
            ThreePointArc((6.37328933, 19.057930158), (5.140293018, 19.091710001), (3.9377546, 18.817260856))
            ThreePointArc((3.9377546, 18.817260856), (3.683817133, 19.280873993), (3.409285113, 19.732596858))
            ThreePointArc((3.409285113, 19.732596858), (4.248234253, 20.636801105), (4.835478208, 21.721497155))
            ThreePointArc((4.835478208, 21.721497155), (4.656282582, 21.960237786), (4.472056082, 22.19511809))
            ThreePointArc((4.472056082, 22.19511809), (3.272330234, 21.908623984), (2.181799984, 21.332286622))
            ThreePointArc((2.181799984, 21.332286622), (1.816523318, 21.714378671), (1.434431268, 22.079655338))
            ThreePointArc((1.434431268, 22.079655338), (2.01076863, 23.170185588), (2.297262736, 24.369911436))
            ThreePointArc((2.297262736, 24.369911436), (2.062382432, 24.554137936), (1.823641801, 24.733333561))
            ThreePointArc((1.823641801, 24.733333561), (0.738945751, 24.146089607), (-0.165258496, 23.307140466))
            ThreePointArc((-0.165258496, 23.307140466), (-0.616981361, 23.581672487), (-1.080594498, 23.835609953))
            ThreePointArc((-1.080594498, 23.835609953), (-0.806145353, 25.038148372), (-0.839925195, 26.271144684))
            ThreePointArc((-0.839925195, 26.271144684), (-1.114483475, 26.388302322), (-1.391468456, 26.499601383))
            ThreePointArc((-1.391468456, 26.499601383), (-2.287214465, 25.651627285), (-2.943472684, 24.607239363))
            ThreePointArc((-2.943472684, 24.607239363), (-3.450857581, 24.755502451), (-3.964397336, 24.880795299))
            ThreePointArc((-3.964397336, 24.880795299), (-4.010539664, 26.113390881), (-4.362291414, 27.295630995))
            ThreePointArc((-4.362291414, 27.295630995), (-4.657816975, 27.337735672), (-4.954170239, 27.373553321))
            ThreePointArc((-4.954170239, 27.373553321), (-5.599922596, 26.322637113), (-5.963511874, 25.143983721))
            ThreePointArc((-5.963511874, 25.143983721), (-6.491981361, 25.155873993), (-7.020450848, 25.143983721))
            ThreePointArc((-7.020450848, 25.143983721), (-7.384040126, 26.322637113), (-8.029792484, 27.373553321))
            ThreePointArc((-8.029792484, 27.373553321), (-8.326145748, 27.337735672), (-8.621671308, 27.295630995))
            ThreePointArc((-8.621671308, 27.295630995), (-8.973423058, 26.113390881), (-9.019565387, 24.880795299))
            ThreePointArc((-9.019565387, 24.880795299), (-9.533105141, 24.755502451), (-10.040490039, 24.607239363))
            ThreePointArc((-10.040490039, 24.607239363), (-10.696748258, 25.651627285), (-11.592494266, 26.499601383))
            ThreePointArc((-11.592494266, 26.499601383), (-11.869479248, 26.388302322), (-12.144037527, 26.271144684))
            ThreePointArc((-12.144037527, 26.271144684), (-12.17781737, 25.038148372), (-11.903368225, 23.835609953))
            ThreePointArc((-11.903368225, 23.835609953), (-12.366981361, 23.581672487), (-12.818704227, 23.307140466))
            ThreePointArc((-12.818704227, 23.307140466), (-13.722908474, 24.146089607), (-14.807604524, 24.733333561))
            ThreePointArc((-14.807604524, 24.733333561), (-15.046345155, 24.554137936), (-15.281225459, 24.369911436))
            ThreePointArc((-15.281225459, 24.369911436), (-14.994731353, 23.170185588), (-14.418393991, 22.079655338))
            ThreePointArc((-14.418393991, 22.079655338), (-14.80048604, 21.714378671), (-15.165762707, 21.332286622))
            ThreePointArc((-15.165762707, 21.332286622), (-16.256292957, 21.908623984), (-17.456018805, 22.19511809))
            ThreePointArc((-17.456018805, 22.19511809), (-17.640245305, 21.960237786), (-17.81944093, 21.721497155))
            ThreePointArc((-17.81944093, 21.721497155), (-17.232196976, 20.636801105), (-16.393247835, 19.732596858))
            ThreePointArc((-16.393247835, 19.732596858), (-16.667779856, 19.280873993), (-16.921717322, 18.817260856))
            ThreePointArc((-16.921717322, 18.817260856), (-18.124255741, 19.091710001), (-19.357252053, 19.057930158))
            ThreePointArc((-19.357252053, 19.057930158), (-19.474409691, 18.783371879), (-19.585708752, 18.506386898))
            ThreePointArc((-19.585708752, 18.506386898), (-18.737734654, 17.610640889), (-17.693346732, 16.95438267))
            ThreePointArc((-17.693346732, 16.95438267), (-17.84160982, 16.446997772), (-17.966902668, 15.933458018))
            ThreePointArc((-17.966902668, 15.933458018), (-19.19949825, 15.88731569), (-20.381738364, 15.535563939))
            ThreePointArc((-20.381738364, 15.535563939), (-20.423843041, 15.240038379), (-20.45966069, 14.943685115))
        make_face()
        with Locations(Location((-6.491981361, 13.405873993, 0), (0, 0, 180))):
            Circle(SKETCH1_R, mode=Mode.SUBTRACT)
    extrude(amount=-BOSS_EXTRUDE1_DEPTH)


solid = part.part
